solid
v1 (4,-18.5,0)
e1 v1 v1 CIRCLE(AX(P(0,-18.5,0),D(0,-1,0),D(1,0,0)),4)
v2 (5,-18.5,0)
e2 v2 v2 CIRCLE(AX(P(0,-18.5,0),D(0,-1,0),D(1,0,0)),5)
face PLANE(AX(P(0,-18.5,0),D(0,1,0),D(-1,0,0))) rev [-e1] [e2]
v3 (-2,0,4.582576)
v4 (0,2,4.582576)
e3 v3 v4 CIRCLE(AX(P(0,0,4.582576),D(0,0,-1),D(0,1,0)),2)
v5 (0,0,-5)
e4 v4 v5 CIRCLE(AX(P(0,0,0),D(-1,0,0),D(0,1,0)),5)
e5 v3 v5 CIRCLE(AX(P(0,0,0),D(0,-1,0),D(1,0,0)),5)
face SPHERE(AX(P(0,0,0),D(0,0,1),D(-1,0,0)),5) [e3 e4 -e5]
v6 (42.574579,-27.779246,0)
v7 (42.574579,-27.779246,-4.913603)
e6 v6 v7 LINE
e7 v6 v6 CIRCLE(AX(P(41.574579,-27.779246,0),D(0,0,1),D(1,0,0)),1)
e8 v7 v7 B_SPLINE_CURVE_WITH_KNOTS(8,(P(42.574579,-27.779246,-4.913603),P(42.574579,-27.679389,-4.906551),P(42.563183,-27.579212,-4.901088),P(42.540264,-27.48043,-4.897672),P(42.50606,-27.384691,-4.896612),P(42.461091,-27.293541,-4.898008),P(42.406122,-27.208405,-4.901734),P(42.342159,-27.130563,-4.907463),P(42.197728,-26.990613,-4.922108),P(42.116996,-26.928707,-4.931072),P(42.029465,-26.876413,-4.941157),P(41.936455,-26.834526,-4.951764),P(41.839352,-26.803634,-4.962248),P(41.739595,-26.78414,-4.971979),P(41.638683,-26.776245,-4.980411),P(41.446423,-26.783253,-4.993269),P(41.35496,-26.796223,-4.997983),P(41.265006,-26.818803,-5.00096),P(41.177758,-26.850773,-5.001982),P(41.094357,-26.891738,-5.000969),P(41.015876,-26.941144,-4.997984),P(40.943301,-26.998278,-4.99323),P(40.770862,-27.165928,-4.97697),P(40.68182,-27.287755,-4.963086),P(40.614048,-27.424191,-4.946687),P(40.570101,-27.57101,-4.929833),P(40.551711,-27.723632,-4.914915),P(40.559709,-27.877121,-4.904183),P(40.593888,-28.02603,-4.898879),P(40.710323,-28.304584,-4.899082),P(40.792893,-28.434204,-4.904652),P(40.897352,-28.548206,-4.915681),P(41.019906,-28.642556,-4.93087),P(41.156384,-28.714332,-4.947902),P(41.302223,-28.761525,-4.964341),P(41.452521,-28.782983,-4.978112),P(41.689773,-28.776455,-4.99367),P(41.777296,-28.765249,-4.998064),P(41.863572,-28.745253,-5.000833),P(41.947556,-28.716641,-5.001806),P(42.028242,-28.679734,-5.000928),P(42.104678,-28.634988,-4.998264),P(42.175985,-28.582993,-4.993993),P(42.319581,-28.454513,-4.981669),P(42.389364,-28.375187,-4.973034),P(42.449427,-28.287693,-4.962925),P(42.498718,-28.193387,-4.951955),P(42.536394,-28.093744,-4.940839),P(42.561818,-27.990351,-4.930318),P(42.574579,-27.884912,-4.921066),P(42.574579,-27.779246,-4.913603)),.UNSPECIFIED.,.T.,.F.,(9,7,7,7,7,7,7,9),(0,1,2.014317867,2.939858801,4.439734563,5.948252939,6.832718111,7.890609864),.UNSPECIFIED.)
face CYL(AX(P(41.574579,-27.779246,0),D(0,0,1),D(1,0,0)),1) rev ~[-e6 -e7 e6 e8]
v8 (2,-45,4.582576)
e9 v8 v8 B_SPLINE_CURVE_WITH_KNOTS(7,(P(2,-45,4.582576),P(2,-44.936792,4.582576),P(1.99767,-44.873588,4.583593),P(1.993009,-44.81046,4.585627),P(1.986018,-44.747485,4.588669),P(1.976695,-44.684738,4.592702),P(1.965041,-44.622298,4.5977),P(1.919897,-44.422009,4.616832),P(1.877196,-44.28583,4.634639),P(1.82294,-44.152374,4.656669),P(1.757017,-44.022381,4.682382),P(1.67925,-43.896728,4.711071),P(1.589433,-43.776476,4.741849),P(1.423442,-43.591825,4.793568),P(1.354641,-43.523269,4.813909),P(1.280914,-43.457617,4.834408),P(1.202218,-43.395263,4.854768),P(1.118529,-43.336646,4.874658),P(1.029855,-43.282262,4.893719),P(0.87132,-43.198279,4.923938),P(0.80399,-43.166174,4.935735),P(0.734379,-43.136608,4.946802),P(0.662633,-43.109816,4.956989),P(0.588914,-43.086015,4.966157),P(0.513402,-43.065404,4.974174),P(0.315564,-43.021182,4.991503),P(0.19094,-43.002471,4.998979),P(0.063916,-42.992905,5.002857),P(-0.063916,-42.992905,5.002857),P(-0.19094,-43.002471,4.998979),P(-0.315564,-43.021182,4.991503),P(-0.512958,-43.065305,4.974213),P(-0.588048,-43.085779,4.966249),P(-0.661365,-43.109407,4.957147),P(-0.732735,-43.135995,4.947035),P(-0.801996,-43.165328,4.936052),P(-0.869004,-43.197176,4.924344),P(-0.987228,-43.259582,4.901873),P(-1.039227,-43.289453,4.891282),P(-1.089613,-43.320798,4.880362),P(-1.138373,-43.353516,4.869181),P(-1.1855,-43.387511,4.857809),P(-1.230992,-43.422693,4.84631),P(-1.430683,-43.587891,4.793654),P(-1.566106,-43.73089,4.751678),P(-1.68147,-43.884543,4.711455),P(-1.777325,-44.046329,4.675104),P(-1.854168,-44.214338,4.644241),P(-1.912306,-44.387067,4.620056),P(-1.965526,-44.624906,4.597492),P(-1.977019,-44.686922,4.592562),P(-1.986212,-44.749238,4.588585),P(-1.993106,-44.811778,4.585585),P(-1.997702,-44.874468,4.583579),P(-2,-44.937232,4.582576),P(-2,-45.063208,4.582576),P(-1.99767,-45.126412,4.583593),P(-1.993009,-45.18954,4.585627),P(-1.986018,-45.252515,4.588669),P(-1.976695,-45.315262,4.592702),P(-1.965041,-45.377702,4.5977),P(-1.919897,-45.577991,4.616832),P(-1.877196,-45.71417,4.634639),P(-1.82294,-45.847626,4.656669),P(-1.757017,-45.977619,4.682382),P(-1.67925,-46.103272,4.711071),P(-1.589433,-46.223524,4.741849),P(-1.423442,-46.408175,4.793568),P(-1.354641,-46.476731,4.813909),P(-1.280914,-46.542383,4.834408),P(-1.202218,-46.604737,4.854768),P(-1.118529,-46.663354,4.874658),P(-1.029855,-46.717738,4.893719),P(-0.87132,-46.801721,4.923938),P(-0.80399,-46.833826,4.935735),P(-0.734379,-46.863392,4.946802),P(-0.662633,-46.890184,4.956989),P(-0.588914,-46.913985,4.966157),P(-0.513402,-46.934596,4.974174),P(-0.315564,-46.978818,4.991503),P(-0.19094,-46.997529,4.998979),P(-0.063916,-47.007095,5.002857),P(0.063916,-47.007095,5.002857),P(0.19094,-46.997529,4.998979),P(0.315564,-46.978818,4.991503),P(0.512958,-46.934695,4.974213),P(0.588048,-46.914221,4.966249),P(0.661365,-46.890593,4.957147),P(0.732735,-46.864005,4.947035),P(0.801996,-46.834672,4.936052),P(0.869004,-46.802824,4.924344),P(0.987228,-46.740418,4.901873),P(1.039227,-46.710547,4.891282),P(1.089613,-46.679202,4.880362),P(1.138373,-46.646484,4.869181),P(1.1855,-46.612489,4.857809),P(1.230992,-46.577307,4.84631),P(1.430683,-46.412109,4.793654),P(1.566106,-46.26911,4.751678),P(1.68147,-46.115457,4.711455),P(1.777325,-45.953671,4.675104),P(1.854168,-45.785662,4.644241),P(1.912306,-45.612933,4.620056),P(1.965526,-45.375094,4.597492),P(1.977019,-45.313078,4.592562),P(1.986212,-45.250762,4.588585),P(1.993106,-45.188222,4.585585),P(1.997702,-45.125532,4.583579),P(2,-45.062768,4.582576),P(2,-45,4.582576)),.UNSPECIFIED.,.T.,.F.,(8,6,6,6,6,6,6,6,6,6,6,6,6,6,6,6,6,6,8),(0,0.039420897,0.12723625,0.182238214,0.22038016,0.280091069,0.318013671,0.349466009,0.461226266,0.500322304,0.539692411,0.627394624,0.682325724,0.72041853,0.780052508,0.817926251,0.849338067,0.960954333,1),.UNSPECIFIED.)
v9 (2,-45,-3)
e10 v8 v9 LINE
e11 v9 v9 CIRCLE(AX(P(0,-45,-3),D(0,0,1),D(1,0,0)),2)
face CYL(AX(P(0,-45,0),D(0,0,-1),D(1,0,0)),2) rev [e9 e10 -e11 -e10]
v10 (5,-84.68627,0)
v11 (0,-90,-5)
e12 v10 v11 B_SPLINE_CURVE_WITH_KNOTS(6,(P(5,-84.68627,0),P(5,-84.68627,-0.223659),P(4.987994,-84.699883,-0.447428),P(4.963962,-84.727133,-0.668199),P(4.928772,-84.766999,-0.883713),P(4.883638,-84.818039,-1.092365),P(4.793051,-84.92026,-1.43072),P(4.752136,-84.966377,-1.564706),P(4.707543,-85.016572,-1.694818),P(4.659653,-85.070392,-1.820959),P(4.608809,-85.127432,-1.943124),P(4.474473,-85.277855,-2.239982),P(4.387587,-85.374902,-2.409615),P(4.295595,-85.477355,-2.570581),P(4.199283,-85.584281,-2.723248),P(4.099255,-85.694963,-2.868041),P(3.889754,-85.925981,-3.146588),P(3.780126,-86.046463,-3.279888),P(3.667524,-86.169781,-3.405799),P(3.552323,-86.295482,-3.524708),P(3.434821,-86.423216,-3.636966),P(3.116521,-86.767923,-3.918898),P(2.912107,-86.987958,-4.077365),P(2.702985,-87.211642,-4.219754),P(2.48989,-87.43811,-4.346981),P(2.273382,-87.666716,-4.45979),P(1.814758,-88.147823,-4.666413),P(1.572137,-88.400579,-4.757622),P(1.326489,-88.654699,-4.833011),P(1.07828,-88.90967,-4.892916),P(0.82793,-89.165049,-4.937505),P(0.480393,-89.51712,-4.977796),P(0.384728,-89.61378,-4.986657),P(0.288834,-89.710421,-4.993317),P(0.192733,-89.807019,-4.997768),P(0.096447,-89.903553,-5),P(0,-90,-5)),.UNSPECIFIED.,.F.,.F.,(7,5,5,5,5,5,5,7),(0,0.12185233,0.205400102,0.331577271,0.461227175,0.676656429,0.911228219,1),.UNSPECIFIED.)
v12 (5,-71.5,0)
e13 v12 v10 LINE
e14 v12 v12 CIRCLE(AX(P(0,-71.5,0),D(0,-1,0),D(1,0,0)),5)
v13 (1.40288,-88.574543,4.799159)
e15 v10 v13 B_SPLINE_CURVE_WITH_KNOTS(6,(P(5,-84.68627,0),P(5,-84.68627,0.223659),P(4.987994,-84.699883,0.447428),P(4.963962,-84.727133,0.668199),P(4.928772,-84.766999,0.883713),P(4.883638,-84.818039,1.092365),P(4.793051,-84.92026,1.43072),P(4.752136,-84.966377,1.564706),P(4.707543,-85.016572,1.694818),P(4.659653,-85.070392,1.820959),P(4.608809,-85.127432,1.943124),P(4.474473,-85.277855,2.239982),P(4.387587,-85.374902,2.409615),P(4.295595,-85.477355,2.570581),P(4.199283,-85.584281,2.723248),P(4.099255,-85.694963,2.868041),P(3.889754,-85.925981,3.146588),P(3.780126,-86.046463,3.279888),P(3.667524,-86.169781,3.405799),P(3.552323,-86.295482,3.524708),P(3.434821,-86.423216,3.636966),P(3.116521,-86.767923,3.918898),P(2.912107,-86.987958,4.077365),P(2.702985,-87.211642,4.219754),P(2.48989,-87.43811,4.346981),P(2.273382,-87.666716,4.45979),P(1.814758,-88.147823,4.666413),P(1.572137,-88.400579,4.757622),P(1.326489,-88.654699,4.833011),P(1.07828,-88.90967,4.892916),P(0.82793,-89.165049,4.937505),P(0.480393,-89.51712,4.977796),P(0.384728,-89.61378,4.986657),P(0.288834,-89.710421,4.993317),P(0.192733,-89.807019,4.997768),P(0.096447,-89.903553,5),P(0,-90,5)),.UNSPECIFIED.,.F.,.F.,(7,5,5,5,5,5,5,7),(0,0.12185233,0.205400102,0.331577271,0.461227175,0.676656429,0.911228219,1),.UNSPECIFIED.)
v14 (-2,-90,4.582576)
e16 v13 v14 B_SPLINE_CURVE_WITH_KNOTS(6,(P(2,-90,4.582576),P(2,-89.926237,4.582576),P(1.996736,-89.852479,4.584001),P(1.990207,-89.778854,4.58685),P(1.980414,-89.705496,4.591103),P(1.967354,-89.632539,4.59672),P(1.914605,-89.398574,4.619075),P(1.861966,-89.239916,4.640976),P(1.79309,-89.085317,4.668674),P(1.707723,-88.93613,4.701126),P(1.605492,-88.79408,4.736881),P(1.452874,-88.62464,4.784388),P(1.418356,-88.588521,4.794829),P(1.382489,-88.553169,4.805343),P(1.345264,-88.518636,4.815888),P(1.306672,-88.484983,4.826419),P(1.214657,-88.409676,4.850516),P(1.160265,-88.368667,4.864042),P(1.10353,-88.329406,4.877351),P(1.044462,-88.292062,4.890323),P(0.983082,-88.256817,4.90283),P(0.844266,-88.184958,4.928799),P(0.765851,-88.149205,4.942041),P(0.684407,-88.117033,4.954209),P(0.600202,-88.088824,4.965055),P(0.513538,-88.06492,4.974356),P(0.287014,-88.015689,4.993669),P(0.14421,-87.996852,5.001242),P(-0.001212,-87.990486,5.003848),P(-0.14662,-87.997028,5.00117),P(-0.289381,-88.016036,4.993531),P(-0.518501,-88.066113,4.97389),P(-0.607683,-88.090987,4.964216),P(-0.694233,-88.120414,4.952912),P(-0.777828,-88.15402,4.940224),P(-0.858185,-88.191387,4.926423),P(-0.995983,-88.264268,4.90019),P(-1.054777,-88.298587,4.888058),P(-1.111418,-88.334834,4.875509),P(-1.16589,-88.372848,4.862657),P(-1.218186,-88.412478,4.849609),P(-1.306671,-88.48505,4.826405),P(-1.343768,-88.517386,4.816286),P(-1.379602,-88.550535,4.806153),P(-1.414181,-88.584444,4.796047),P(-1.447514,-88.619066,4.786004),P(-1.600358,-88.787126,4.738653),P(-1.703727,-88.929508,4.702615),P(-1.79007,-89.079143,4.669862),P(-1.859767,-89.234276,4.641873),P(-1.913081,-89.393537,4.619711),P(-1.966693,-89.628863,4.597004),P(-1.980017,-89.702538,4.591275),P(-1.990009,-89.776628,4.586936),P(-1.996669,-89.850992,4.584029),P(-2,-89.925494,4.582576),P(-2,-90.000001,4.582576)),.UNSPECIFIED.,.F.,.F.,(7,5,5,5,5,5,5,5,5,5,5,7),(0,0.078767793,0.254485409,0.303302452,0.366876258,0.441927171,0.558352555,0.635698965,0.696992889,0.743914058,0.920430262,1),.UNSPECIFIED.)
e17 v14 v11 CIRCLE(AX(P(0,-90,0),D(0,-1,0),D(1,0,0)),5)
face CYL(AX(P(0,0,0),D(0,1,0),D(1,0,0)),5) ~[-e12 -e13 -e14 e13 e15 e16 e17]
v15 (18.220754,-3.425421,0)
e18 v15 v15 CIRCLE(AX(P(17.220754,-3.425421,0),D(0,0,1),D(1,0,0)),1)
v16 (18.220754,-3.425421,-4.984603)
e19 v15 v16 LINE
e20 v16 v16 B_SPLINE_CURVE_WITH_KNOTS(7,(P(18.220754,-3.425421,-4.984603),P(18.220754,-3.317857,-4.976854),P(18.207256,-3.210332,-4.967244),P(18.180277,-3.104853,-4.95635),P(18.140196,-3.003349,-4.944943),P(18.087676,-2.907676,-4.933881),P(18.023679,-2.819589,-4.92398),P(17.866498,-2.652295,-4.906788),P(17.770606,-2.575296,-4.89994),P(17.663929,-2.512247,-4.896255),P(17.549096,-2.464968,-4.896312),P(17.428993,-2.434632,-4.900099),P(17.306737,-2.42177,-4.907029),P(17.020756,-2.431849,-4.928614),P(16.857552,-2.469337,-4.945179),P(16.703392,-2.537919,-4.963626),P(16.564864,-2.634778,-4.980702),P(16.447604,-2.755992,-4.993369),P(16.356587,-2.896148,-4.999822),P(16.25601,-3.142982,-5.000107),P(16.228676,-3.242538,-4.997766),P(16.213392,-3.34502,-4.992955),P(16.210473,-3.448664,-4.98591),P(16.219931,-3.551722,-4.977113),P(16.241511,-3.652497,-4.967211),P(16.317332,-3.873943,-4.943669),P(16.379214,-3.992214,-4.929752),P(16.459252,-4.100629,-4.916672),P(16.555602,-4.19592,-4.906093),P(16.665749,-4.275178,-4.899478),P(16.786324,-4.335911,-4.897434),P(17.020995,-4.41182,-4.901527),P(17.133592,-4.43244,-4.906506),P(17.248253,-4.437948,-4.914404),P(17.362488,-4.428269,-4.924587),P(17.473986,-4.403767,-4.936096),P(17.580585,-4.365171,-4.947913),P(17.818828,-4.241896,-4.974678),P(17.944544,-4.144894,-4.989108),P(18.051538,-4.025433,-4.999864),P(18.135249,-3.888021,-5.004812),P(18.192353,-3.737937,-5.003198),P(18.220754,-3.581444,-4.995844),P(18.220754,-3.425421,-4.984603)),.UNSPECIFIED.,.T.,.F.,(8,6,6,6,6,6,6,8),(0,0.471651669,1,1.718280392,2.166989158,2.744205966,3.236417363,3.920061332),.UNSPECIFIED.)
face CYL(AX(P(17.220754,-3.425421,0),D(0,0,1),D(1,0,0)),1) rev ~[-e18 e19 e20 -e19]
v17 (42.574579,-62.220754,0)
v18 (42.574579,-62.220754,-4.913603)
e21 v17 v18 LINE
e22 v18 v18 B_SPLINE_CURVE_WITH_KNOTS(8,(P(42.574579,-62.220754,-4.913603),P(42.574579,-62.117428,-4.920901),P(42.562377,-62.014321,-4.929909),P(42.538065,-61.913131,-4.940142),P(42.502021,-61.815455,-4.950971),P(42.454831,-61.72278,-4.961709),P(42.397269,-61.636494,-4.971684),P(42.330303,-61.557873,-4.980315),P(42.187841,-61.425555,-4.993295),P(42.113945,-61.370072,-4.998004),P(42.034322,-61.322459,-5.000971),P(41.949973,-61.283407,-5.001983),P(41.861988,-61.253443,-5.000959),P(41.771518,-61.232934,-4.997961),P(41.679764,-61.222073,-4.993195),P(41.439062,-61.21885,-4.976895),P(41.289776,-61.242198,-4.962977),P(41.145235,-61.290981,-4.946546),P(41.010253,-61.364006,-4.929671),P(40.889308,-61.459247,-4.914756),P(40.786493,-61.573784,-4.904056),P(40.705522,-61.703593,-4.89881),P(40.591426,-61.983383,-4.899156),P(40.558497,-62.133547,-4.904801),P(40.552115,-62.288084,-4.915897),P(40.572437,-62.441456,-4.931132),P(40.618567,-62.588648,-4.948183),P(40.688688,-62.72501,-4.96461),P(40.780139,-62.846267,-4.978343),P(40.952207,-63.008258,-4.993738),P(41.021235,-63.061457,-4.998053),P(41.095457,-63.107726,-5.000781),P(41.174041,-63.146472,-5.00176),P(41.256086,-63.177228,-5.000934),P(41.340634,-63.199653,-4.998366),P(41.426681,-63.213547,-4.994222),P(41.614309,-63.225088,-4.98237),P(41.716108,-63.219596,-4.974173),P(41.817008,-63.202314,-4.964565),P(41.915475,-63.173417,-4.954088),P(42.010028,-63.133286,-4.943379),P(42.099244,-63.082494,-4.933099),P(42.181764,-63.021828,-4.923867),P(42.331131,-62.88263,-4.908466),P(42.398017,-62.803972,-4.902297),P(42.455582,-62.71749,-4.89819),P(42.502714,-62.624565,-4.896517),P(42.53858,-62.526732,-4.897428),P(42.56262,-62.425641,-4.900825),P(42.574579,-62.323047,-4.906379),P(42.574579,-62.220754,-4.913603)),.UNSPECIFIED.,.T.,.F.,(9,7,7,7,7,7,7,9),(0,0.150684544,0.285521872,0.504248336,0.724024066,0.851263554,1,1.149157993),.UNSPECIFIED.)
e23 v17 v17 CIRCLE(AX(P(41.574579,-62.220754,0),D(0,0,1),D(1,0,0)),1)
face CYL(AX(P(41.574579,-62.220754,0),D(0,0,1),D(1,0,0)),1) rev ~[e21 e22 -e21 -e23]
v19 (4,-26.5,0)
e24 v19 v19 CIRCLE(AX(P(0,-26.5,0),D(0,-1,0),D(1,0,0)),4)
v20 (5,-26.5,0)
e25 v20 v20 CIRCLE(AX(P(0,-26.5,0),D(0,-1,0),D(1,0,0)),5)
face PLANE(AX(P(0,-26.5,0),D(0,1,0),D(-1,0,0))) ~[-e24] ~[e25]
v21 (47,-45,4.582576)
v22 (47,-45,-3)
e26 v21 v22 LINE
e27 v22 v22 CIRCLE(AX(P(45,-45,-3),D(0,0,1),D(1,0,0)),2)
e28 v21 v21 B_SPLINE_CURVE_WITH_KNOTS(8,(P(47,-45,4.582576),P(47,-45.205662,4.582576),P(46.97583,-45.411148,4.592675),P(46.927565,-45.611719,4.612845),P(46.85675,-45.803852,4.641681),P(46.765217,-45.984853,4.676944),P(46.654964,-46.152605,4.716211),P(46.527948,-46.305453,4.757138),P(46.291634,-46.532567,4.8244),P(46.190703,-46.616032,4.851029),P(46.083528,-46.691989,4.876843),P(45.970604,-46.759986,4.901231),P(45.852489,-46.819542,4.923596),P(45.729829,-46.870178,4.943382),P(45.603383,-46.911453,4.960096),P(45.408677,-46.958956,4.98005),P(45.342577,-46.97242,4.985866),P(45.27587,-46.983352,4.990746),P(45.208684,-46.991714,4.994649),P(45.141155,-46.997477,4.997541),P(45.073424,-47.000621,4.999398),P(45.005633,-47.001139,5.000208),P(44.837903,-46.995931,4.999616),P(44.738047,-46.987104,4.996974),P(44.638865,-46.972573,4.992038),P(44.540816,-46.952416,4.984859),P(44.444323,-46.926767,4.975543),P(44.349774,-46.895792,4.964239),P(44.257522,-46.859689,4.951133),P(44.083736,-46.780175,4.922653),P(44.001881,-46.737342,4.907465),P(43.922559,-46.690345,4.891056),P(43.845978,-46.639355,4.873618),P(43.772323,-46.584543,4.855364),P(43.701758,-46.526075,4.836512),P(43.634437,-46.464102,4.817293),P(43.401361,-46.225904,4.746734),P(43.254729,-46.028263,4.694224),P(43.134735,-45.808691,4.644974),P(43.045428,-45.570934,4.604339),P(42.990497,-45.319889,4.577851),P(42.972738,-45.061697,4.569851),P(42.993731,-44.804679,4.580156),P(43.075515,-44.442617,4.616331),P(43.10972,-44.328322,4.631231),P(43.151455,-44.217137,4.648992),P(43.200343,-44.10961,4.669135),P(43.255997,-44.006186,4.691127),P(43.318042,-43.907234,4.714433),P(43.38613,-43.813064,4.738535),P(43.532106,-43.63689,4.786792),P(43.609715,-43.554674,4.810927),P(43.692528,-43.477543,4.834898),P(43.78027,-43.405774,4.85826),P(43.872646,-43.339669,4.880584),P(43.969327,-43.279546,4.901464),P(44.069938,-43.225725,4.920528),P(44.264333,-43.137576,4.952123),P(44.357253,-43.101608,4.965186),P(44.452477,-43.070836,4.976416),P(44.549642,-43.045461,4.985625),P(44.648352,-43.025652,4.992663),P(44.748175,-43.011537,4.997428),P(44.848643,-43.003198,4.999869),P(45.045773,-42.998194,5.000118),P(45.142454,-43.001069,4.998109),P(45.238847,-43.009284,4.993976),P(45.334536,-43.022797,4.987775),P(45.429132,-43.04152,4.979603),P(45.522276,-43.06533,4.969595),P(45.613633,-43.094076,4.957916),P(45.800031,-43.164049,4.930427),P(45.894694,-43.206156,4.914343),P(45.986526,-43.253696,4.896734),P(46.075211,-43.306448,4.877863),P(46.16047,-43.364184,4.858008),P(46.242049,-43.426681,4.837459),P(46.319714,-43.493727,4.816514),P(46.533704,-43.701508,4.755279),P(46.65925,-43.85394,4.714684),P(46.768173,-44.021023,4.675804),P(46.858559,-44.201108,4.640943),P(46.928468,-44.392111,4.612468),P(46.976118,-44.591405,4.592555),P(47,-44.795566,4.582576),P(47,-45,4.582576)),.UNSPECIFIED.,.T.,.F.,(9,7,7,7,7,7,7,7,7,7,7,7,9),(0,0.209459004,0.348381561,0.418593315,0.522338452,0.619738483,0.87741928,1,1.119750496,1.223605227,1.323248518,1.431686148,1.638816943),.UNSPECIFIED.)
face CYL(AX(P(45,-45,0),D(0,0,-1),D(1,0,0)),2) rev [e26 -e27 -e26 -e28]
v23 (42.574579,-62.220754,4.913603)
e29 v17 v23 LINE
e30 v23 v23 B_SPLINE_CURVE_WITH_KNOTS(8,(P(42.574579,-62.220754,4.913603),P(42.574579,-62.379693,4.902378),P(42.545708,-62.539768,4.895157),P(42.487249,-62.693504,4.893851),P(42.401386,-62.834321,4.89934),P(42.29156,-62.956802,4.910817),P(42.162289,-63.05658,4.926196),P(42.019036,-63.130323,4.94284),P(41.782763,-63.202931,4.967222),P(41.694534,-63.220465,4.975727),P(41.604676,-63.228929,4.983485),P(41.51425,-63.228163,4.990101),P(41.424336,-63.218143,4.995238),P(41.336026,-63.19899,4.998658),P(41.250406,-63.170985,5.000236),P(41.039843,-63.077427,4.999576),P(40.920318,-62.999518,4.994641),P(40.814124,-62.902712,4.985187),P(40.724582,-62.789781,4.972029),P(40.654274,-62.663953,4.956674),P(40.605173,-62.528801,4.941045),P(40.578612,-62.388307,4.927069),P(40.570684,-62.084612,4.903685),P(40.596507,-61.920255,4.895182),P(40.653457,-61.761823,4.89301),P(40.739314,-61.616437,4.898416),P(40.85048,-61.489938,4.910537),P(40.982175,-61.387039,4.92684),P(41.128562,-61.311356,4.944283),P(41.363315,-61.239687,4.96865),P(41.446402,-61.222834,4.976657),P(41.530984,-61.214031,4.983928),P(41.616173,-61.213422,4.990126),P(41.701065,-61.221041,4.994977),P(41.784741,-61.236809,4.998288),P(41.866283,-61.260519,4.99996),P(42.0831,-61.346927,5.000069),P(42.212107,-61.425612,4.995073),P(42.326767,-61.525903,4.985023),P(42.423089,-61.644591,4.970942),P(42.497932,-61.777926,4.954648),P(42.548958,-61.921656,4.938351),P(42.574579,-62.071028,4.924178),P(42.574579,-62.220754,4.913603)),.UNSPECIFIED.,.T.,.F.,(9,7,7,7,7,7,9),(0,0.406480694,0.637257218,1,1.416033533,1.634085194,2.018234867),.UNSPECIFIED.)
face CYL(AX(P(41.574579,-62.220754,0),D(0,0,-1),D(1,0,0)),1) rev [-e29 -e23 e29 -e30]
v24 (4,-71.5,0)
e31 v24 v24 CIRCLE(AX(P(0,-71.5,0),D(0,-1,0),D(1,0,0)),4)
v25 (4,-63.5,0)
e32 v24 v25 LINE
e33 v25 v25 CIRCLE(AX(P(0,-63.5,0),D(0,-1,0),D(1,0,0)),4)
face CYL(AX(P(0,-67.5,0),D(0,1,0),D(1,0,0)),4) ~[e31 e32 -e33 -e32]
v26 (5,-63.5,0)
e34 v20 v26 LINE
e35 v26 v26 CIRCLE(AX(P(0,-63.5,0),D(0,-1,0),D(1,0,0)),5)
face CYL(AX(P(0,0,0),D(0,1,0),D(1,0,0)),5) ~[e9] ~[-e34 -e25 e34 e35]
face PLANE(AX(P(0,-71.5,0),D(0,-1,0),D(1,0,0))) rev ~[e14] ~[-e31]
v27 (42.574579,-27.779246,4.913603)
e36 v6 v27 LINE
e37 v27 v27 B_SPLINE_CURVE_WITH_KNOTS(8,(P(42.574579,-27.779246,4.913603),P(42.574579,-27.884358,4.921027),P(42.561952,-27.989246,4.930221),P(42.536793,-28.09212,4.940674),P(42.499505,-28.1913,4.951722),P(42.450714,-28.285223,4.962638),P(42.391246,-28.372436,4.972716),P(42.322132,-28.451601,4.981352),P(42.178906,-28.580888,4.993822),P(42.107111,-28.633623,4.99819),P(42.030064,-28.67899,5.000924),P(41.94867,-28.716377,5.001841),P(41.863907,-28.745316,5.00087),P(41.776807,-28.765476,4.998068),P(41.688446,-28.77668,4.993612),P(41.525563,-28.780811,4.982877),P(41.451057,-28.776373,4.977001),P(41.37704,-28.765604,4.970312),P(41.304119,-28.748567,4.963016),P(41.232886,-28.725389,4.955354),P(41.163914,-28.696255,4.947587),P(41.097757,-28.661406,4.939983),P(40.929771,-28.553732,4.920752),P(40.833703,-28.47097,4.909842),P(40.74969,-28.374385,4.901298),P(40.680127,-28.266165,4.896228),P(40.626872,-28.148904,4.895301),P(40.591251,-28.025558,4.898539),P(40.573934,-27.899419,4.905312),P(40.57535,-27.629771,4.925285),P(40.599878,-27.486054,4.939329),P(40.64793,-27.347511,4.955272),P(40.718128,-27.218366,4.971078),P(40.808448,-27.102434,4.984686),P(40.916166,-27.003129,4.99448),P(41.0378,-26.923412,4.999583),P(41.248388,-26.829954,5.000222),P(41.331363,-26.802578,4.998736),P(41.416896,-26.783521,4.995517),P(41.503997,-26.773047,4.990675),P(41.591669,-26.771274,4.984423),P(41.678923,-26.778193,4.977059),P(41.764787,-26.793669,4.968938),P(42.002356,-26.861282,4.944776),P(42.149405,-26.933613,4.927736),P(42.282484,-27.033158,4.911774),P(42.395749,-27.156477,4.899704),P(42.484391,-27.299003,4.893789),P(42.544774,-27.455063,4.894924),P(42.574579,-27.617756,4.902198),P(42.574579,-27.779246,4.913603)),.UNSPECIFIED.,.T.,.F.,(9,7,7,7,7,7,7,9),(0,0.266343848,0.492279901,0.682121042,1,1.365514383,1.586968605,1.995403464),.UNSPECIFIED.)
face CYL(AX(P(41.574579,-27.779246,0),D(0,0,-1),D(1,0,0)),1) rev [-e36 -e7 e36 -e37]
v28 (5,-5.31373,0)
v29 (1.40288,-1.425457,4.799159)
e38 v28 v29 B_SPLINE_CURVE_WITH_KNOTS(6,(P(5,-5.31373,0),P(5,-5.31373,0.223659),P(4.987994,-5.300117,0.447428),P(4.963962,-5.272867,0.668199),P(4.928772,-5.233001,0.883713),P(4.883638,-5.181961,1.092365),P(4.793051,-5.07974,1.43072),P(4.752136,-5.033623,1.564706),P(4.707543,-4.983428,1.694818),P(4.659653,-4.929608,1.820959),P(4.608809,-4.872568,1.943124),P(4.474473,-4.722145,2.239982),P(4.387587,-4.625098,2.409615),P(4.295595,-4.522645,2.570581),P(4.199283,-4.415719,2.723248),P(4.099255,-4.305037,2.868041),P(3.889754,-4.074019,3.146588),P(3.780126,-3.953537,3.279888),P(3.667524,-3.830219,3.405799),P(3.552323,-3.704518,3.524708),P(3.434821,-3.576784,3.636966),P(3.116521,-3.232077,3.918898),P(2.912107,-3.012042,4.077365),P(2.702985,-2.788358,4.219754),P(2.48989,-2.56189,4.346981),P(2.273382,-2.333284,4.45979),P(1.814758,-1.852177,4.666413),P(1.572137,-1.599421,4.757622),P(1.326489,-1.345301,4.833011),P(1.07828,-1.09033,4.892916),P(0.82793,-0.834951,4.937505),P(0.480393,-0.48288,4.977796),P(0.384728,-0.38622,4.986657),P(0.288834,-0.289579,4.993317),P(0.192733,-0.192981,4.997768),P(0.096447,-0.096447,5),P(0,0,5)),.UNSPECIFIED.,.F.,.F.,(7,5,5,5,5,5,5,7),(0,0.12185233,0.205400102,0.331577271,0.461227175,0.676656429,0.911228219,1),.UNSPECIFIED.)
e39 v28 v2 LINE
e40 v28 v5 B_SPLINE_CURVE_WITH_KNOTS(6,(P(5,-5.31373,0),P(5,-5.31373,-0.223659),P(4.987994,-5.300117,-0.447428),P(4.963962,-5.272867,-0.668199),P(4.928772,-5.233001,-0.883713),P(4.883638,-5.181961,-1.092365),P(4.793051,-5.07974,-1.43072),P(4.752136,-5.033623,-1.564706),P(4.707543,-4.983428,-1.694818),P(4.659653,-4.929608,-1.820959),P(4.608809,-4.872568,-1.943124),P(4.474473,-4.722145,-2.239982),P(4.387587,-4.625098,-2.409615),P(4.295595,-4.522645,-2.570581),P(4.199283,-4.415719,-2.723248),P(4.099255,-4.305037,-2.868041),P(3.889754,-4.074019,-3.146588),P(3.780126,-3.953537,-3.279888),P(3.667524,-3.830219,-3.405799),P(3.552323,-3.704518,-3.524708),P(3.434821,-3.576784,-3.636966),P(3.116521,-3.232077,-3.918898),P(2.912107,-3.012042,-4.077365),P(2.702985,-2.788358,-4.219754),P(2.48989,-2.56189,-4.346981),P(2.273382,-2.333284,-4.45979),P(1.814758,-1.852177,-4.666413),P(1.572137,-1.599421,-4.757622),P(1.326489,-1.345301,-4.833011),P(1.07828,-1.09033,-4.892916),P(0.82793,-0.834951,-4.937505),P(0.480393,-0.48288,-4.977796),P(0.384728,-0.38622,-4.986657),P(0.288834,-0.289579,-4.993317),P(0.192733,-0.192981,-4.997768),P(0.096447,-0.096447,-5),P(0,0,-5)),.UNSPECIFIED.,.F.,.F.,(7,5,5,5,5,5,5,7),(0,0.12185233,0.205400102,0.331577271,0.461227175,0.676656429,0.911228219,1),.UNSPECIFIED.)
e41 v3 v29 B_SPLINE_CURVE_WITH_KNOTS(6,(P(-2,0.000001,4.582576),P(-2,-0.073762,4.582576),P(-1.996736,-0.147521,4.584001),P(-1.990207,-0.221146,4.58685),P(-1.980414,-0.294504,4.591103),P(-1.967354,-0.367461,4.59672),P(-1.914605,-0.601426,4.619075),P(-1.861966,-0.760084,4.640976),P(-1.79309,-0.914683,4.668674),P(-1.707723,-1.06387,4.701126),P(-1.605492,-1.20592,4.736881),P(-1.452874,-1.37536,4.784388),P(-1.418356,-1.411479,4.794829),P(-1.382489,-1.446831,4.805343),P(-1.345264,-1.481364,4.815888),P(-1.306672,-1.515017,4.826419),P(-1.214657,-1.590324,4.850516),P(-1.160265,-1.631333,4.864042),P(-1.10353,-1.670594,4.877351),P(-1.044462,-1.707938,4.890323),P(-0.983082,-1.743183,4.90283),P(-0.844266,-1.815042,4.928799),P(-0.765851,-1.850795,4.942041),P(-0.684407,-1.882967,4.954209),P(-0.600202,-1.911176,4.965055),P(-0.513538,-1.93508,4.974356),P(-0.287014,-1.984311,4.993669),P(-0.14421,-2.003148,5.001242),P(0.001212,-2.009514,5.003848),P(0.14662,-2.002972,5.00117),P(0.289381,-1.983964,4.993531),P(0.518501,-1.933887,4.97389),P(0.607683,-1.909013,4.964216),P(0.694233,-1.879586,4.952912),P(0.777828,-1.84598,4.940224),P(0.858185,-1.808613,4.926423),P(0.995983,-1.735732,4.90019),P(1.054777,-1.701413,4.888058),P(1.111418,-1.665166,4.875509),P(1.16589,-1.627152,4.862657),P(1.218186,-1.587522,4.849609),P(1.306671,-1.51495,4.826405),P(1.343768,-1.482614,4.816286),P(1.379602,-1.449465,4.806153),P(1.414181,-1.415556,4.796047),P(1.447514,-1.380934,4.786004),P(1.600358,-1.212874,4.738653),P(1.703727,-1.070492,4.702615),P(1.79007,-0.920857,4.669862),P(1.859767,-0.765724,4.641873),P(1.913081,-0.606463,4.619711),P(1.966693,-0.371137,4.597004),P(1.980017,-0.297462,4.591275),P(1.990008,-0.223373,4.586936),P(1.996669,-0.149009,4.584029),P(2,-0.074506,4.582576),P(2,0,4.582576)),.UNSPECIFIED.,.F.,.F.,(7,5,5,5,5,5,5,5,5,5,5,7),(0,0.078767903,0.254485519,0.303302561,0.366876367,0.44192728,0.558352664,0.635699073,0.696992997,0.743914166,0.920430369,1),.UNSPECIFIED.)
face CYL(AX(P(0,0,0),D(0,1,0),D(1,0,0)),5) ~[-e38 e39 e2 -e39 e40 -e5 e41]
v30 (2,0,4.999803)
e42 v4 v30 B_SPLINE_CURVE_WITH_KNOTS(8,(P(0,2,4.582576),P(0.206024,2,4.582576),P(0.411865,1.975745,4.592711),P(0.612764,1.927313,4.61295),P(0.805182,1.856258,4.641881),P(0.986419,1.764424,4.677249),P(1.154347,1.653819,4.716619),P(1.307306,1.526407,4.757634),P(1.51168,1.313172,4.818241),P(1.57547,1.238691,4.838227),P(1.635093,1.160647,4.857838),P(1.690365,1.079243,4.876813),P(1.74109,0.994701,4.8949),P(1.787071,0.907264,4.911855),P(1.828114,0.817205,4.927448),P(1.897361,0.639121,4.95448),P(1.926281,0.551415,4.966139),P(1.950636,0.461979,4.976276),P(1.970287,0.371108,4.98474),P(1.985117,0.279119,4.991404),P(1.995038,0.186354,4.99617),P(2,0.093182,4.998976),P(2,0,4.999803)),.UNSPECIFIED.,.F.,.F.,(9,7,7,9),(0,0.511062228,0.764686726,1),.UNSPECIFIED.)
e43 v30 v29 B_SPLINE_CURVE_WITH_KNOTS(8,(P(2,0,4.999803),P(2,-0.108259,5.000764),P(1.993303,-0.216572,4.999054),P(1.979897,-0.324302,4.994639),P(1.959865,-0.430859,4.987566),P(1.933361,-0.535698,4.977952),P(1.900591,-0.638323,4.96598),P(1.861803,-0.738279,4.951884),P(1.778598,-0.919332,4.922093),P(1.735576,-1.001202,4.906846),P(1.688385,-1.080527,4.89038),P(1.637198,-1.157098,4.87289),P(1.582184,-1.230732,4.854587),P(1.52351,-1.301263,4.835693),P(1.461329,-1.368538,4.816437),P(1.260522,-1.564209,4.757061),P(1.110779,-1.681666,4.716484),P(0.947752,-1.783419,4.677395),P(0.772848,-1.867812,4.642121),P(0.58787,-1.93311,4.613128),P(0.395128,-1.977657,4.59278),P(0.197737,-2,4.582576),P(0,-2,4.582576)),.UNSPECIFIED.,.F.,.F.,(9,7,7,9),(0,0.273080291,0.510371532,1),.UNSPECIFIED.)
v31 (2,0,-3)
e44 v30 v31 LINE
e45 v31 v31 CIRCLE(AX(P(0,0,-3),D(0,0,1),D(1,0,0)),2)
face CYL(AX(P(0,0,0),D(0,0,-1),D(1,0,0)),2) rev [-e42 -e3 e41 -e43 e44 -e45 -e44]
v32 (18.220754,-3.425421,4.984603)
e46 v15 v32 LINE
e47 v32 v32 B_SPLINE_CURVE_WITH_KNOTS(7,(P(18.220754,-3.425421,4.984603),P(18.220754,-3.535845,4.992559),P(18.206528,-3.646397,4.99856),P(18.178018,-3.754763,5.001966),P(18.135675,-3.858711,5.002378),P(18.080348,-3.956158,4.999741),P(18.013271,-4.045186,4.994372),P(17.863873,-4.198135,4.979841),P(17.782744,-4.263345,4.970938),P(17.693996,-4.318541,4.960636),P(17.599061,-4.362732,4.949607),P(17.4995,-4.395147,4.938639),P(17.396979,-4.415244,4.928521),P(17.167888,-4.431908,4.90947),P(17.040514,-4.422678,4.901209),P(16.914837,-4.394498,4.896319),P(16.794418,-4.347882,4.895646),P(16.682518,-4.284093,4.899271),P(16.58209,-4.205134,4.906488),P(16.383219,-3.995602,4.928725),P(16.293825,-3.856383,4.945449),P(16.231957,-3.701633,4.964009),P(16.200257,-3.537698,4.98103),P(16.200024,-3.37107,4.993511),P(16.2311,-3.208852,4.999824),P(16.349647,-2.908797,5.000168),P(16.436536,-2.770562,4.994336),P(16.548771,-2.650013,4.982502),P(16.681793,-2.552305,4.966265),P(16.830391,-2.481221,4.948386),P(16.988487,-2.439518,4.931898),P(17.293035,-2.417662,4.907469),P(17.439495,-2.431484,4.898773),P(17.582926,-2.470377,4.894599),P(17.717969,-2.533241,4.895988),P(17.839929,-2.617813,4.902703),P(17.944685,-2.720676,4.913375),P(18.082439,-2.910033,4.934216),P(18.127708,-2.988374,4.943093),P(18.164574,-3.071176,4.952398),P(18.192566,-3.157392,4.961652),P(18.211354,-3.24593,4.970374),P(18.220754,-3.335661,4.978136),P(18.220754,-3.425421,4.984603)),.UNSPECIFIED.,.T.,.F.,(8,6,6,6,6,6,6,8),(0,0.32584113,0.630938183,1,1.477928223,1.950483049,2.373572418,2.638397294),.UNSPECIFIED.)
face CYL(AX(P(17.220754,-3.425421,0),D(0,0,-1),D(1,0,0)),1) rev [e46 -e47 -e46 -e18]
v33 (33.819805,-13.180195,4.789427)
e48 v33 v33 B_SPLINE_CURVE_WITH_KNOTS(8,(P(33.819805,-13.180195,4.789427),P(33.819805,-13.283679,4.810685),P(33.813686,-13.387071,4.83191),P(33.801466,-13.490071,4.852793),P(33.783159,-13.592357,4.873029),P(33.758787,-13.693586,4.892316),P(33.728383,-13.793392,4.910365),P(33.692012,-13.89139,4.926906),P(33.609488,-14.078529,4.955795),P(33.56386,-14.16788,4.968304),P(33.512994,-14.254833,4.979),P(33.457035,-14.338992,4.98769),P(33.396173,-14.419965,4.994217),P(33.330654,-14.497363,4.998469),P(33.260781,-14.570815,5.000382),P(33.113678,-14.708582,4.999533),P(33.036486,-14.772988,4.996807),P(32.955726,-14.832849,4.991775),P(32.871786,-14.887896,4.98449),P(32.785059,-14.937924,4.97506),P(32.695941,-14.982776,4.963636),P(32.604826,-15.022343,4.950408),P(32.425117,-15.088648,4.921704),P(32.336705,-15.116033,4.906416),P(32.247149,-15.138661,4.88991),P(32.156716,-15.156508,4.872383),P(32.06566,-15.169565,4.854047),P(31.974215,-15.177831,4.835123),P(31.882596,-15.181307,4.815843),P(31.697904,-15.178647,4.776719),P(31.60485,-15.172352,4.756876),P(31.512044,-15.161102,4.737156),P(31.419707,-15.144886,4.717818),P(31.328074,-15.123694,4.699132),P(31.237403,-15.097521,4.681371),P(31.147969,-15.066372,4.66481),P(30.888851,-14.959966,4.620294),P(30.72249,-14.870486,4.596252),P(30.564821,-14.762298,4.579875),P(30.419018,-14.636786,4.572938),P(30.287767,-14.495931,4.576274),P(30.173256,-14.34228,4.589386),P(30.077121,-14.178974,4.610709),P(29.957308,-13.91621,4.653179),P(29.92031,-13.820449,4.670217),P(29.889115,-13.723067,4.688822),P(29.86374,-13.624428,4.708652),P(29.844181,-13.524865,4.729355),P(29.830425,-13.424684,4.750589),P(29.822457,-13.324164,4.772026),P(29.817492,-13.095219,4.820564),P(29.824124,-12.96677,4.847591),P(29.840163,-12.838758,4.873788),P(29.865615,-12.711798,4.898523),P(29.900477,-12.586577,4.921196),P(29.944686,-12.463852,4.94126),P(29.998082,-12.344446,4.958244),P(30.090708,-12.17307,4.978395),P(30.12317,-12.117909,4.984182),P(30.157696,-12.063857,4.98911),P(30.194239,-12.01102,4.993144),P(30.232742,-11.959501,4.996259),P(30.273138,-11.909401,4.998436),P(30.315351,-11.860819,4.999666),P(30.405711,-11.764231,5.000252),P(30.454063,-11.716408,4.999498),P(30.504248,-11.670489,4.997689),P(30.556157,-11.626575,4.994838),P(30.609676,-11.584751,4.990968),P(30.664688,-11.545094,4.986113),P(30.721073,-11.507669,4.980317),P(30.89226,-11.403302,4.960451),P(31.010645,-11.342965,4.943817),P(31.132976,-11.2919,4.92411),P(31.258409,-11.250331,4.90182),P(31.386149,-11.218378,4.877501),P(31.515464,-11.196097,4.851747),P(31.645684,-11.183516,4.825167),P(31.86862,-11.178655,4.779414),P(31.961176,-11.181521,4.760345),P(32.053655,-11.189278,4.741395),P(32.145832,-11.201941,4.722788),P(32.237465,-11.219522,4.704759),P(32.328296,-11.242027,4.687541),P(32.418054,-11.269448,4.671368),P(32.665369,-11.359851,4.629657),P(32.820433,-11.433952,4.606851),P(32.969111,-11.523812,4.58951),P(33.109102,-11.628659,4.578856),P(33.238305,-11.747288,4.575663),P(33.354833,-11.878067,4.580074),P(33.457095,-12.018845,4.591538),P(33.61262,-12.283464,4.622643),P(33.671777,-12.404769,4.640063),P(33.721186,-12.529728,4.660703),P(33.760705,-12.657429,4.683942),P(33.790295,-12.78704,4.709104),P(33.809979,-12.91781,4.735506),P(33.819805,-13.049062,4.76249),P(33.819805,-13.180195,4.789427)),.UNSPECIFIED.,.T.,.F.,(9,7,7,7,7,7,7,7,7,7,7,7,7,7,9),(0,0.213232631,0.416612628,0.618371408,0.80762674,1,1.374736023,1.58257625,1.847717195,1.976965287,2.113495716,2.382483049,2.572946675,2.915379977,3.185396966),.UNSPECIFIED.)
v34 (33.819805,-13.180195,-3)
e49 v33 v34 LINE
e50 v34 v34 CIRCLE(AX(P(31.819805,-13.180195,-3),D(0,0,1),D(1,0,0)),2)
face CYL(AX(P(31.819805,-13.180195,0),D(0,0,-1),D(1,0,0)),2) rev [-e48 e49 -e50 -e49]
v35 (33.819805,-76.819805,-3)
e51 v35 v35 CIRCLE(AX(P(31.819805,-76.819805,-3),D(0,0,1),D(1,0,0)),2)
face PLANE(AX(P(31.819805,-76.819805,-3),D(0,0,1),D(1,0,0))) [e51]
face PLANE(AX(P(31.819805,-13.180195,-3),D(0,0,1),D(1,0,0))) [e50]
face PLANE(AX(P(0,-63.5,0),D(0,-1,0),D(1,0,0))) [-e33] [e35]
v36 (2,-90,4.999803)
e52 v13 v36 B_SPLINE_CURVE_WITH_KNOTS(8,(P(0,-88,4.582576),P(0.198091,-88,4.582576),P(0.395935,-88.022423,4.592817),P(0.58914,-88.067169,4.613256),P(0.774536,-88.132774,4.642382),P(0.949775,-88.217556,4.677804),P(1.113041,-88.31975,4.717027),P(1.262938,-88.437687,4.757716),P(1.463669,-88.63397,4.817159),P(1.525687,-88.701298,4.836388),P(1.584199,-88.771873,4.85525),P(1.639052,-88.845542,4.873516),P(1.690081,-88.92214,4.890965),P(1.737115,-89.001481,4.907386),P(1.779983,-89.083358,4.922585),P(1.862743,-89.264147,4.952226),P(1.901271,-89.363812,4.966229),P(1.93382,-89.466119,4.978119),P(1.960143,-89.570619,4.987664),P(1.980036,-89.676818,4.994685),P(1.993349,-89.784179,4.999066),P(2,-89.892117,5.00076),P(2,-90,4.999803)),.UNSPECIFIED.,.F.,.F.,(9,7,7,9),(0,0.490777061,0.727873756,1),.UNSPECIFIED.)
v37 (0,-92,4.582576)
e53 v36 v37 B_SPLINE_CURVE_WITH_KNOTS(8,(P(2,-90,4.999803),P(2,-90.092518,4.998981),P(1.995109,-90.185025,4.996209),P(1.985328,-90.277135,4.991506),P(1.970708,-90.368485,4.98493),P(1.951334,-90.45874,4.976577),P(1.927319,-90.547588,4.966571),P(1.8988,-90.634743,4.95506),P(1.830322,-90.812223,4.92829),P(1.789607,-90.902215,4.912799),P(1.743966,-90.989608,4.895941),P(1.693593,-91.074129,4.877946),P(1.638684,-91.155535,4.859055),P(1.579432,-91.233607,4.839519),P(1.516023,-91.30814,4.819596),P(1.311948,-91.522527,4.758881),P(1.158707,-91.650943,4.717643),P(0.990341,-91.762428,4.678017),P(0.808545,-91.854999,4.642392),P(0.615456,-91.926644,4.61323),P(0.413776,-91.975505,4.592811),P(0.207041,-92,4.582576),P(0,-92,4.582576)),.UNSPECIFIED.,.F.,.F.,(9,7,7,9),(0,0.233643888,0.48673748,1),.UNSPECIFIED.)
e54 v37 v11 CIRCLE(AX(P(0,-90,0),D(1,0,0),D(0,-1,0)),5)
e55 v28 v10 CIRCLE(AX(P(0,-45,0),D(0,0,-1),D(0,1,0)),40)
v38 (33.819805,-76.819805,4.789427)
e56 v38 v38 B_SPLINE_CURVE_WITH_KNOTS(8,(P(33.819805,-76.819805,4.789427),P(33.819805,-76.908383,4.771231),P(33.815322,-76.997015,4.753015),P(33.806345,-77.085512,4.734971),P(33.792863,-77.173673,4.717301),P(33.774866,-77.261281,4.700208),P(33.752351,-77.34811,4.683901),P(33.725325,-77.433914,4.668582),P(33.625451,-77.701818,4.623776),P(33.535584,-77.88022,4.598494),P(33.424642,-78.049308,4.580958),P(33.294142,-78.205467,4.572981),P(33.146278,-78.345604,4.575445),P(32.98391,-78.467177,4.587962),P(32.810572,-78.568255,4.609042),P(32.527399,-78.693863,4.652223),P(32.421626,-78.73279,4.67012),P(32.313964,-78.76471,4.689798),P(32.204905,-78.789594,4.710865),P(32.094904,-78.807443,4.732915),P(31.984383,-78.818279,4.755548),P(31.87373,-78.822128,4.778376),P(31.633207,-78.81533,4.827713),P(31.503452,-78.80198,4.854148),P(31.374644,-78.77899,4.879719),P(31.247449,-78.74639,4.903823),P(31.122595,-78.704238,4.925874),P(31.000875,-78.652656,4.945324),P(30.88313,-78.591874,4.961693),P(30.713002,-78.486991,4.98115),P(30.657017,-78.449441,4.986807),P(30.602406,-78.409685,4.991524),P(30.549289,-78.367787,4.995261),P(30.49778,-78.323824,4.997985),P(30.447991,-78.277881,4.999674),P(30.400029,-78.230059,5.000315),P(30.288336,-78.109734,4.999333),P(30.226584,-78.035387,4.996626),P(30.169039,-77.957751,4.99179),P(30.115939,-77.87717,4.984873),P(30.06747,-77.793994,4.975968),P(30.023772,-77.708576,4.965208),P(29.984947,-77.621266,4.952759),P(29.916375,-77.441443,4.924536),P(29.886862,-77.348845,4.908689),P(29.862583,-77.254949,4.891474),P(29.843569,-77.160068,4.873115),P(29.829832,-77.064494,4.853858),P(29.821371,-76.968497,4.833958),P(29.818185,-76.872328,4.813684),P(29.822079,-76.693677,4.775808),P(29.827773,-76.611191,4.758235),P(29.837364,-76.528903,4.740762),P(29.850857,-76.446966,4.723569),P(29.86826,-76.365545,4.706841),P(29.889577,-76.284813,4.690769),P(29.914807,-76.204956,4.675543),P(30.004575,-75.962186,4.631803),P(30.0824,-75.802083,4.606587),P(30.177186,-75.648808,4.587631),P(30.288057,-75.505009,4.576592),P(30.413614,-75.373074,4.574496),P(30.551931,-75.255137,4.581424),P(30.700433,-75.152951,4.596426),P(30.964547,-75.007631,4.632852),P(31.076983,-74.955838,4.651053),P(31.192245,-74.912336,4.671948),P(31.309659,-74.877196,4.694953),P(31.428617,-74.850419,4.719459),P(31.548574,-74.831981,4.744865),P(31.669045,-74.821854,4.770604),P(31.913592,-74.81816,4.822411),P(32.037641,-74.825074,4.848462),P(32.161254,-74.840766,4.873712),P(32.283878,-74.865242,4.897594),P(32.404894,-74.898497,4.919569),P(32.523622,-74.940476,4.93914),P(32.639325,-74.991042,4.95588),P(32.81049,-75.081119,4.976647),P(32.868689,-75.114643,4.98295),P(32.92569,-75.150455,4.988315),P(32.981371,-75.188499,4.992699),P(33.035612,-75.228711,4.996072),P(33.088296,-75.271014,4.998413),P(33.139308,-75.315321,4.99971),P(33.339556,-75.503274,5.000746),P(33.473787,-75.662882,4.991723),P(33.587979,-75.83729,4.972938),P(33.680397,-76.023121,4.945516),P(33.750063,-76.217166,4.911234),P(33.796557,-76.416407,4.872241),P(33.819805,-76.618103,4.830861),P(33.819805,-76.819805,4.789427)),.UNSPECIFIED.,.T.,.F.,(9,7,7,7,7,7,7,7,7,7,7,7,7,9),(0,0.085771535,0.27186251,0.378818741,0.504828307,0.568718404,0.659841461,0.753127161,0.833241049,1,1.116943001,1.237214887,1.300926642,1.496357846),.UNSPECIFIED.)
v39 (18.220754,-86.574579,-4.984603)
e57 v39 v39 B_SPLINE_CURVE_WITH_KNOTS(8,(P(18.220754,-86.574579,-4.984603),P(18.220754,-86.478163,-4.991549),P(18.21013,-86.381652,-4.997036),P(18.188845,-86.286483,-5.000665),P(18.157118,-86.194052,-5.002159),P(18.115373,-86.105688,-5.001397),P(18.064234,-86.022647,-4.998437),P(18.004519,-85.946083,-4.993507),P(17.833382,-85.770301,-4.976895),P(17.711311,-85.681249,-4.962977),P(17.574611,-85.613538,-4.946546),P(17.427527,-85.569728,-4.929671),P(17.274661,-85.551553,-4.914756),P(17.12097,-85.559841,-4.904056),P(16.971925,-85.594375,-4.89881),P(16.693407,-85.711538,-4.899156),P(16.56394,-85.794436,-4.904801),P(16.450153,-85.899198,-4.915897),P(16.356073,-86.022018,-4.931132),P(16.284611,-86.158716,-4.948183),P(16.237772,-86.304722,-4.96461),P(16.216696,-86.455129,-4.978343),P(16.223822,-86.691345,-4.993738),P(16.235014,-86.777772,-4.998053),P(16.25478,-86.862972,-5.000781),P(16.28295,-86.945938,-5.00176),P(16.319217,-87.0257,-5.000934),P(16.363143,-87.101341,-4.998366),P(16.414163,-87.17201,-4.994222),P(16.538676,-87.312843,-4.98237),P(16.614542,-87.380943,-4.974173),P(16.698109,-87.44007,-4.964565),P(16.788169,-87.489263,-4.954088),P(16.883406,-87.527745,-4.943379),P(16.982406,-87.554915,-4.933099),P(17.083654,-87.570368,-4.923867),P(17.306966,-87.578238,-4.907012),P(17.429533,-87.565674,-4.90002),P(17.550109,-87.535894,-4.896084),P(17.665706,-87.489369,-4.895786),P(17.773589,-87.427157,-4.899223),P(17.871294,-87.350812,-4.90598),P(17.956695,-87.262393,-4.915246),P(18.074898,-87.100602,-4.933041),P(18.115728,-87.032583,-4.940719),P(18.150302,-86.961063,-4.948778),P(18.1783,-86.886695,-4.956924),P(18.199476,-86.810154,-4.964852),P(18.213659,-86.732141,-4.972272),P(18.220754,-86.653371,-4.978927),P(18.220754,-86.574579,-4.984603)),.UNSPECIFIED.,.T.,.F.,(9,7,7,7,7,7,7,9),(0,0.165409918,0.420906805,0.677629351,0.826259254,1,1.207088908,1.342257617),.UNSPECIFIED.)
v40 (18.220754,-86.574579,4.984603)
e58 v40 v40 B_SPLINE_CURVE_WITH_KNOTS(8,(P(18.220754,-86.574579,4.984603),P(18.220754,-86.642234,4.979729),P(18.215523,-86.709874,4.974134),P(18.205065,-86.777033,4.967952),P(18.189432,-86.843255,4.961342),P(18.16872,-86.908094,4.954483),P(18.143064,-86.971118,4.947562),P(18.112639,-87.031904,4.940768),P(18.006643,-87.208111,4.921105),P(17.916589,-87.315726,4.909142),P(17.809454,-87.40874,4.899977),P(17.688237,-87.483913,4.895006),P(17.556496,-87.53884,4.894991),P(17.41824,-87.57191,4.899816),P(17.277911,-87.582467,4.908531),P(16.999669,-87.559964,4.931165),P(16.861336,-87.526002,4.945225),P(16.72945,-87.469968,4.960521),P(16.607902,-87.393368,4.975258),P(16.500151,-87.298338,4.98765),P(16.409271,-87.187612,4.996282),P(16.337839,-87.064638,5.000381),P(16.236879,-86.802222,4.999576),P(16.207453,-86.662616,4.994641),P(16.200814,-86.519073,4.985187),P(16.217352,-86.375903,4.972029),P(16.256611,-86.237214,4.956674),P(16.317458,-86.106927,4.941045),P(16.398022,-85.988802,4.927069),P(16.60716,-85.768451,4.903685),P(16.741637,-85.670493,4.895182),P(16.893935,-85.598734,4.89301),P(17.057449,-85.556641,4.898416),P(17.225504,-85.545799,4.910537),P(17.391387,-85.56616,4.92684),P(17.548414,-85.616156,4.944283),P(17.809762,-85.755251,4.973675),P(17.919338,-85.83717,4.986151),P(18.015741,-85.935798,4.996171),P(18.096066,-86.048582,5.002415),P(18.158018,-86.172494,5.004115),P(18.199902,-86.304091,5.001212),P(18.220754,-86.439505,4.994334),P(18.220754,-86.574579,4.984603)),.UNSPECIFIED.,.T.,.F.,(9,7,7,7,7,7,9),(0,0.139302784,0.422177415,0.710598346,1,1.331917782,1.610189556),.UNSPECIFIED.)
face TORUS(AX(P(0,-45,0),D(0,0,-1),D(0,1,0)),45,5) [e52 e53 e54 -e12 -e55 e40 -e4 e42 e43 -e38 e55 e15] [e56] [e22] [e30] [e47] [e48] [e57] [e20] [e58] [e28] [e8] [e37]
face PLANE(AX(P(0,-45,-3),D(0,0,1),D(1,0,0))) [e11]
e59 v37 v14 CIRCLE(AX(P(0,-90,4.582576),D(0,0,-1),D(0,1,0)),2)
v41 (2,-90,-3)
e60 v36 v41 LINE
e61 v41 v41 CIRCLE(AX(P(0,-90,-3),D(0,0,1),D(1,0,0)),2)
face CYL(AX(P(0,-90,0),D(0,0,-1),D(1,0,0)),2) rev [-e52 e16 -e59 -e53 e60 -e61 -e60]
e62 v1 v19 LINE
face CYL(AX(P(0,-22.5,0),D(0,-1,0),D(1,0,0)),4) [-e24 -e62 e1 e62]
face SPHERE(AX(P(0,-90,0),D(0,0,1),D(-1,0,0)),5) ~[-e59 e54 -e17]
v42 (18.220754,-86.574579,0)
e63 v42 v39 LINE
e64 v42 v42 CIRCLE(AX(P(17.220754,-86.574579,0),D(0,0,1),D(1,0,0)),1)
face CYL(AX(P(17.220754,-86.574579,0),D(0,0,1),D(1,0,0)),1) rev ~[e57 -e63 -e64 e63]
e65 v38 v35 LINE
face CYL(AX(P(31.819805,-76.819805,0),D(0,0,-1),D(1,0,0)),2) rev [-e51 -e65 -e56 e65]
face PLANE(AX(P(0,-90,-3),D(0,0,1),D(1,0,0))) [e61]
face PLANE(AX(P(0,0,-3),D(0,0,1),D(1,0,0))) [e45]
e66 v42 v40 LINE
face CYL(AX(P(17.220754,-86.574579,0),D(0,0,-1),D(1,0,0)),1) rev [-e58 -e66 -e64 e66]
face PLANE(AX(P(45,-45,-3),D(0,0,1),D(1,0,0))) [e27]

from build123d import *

# Parameters (mm, degrees)
F0_R           = 5
F1_DEPTH       = 90
F3_R           = 5
F8_R           = 2
F9_DEPTH       = 25
F9_DEPTH_BACK  = 3
F11_R          = 5
F11_R_2        = 4
F12_DEPTH      = 4
F14_R          = 1
F15_DEPTH      = 5.001
F15_DEPTH_BACK = 5.001


with BuildPart() as f1:
    # F0 (on Front) → F1 (new body)
    with BuildSketch(Plane.XZ):
        Circle(F0_R)
    extrude(amount=F1_DEPTH)

    # F4: sweep along a path in F2
    with BuildLine(Plane.XY) as f4_path:
        ThreePointArc((0, 0), (45, -45), (0, -90))
    # F3 (on Right) → F4 (sweep)
    with BuildSketch(Plane.YZ):
        with Locations((-90, 0)):
            Circle(F3_R)
    sweep(path=f4_path.line)

    # F1_face (on face) → F5 (revolve)
    with BuildSketch(Plane(origin=(-2.122066, 0, 0), x_dir=(1, 0, 0), z_dir=(0, 1, 0))):
        with BuildLine():
            Line((2.122066, -5), (2.122066, 5))
            ThreePointArc((2.122066, 5), (-2.877934, 0), (2.122066, -5))
        make_face()
    revolve(axis=Axis((0, 0, 0), (0, 0, 1)))

    # F7: F1 across plane


with BuildPart() as f1_1:
    add(f1.part)
    add(f1.part.mirror(Plane.XZ.offset(45)))

    # F8 (on Top) → F9 (cut, two sides)
    with BuildSketch(Plane.XY) as f9_sk:
        Circle(F8_R)
        with Locations((0, -90)):
            Circle(F8_R)
        with Locations((31.819805, -76.819805)):
            Circle(F8_R)
        with Locations((45, -45)):
            Circle(F8_R)
        with Locations((31.819805, -13.180195)):
            Circle(F8_R)
        with Locations((0, -45)):
            Circle(F8_R)
    extrude(amount=F9_DEPTH, mode=Mode.SUBTRACT)
    extrude(f9_sk.sketch, amount=-F9_DEPTH_BACK, mode=Mode.SUBTRACT)

    # F11 (on offset) → F12 (cut, symmetric)
    with BuildSketch(Plane.XZ.offset(67.5)):
        Circle(F11_R)
        Circle(F11_R_2, mode=Mode.SUBTRACT)
    extrude(amount=F12_DEPTH, both=True, mode=Mode.SUBTRACT)

    # F13: F1 across plane


with BuildPart() as f1_2:
    add(f1_1.part)
    add(f1_1.part.mirror(Plane.XZ.offset(45)), mode=Mode.INTERSECT)

    # F14 (on Top) → F15 (cut, two sides)
    with BuildSketch(Plane.XY) as f15_sk:
        with Locations((17.220754, -86.574579)):
            Circle(F14_R)
        with Locations((41.574579, -62.220754)):
            Circle(F14_R)
        with Locations((41.574579, -27.779246)):
            Circle(F14_R)
        with Locations((17.220754, -3.425421)):
            Circle(F14_R)
    extrude(amount=F15_DEPTH, mode=Mode.SUBTRACT)
    extrude(f15_sk.sketch, amount=-F15_DEPTH_BACK, mode=Mode.SUBTRACT)


solid = f1_2.part
